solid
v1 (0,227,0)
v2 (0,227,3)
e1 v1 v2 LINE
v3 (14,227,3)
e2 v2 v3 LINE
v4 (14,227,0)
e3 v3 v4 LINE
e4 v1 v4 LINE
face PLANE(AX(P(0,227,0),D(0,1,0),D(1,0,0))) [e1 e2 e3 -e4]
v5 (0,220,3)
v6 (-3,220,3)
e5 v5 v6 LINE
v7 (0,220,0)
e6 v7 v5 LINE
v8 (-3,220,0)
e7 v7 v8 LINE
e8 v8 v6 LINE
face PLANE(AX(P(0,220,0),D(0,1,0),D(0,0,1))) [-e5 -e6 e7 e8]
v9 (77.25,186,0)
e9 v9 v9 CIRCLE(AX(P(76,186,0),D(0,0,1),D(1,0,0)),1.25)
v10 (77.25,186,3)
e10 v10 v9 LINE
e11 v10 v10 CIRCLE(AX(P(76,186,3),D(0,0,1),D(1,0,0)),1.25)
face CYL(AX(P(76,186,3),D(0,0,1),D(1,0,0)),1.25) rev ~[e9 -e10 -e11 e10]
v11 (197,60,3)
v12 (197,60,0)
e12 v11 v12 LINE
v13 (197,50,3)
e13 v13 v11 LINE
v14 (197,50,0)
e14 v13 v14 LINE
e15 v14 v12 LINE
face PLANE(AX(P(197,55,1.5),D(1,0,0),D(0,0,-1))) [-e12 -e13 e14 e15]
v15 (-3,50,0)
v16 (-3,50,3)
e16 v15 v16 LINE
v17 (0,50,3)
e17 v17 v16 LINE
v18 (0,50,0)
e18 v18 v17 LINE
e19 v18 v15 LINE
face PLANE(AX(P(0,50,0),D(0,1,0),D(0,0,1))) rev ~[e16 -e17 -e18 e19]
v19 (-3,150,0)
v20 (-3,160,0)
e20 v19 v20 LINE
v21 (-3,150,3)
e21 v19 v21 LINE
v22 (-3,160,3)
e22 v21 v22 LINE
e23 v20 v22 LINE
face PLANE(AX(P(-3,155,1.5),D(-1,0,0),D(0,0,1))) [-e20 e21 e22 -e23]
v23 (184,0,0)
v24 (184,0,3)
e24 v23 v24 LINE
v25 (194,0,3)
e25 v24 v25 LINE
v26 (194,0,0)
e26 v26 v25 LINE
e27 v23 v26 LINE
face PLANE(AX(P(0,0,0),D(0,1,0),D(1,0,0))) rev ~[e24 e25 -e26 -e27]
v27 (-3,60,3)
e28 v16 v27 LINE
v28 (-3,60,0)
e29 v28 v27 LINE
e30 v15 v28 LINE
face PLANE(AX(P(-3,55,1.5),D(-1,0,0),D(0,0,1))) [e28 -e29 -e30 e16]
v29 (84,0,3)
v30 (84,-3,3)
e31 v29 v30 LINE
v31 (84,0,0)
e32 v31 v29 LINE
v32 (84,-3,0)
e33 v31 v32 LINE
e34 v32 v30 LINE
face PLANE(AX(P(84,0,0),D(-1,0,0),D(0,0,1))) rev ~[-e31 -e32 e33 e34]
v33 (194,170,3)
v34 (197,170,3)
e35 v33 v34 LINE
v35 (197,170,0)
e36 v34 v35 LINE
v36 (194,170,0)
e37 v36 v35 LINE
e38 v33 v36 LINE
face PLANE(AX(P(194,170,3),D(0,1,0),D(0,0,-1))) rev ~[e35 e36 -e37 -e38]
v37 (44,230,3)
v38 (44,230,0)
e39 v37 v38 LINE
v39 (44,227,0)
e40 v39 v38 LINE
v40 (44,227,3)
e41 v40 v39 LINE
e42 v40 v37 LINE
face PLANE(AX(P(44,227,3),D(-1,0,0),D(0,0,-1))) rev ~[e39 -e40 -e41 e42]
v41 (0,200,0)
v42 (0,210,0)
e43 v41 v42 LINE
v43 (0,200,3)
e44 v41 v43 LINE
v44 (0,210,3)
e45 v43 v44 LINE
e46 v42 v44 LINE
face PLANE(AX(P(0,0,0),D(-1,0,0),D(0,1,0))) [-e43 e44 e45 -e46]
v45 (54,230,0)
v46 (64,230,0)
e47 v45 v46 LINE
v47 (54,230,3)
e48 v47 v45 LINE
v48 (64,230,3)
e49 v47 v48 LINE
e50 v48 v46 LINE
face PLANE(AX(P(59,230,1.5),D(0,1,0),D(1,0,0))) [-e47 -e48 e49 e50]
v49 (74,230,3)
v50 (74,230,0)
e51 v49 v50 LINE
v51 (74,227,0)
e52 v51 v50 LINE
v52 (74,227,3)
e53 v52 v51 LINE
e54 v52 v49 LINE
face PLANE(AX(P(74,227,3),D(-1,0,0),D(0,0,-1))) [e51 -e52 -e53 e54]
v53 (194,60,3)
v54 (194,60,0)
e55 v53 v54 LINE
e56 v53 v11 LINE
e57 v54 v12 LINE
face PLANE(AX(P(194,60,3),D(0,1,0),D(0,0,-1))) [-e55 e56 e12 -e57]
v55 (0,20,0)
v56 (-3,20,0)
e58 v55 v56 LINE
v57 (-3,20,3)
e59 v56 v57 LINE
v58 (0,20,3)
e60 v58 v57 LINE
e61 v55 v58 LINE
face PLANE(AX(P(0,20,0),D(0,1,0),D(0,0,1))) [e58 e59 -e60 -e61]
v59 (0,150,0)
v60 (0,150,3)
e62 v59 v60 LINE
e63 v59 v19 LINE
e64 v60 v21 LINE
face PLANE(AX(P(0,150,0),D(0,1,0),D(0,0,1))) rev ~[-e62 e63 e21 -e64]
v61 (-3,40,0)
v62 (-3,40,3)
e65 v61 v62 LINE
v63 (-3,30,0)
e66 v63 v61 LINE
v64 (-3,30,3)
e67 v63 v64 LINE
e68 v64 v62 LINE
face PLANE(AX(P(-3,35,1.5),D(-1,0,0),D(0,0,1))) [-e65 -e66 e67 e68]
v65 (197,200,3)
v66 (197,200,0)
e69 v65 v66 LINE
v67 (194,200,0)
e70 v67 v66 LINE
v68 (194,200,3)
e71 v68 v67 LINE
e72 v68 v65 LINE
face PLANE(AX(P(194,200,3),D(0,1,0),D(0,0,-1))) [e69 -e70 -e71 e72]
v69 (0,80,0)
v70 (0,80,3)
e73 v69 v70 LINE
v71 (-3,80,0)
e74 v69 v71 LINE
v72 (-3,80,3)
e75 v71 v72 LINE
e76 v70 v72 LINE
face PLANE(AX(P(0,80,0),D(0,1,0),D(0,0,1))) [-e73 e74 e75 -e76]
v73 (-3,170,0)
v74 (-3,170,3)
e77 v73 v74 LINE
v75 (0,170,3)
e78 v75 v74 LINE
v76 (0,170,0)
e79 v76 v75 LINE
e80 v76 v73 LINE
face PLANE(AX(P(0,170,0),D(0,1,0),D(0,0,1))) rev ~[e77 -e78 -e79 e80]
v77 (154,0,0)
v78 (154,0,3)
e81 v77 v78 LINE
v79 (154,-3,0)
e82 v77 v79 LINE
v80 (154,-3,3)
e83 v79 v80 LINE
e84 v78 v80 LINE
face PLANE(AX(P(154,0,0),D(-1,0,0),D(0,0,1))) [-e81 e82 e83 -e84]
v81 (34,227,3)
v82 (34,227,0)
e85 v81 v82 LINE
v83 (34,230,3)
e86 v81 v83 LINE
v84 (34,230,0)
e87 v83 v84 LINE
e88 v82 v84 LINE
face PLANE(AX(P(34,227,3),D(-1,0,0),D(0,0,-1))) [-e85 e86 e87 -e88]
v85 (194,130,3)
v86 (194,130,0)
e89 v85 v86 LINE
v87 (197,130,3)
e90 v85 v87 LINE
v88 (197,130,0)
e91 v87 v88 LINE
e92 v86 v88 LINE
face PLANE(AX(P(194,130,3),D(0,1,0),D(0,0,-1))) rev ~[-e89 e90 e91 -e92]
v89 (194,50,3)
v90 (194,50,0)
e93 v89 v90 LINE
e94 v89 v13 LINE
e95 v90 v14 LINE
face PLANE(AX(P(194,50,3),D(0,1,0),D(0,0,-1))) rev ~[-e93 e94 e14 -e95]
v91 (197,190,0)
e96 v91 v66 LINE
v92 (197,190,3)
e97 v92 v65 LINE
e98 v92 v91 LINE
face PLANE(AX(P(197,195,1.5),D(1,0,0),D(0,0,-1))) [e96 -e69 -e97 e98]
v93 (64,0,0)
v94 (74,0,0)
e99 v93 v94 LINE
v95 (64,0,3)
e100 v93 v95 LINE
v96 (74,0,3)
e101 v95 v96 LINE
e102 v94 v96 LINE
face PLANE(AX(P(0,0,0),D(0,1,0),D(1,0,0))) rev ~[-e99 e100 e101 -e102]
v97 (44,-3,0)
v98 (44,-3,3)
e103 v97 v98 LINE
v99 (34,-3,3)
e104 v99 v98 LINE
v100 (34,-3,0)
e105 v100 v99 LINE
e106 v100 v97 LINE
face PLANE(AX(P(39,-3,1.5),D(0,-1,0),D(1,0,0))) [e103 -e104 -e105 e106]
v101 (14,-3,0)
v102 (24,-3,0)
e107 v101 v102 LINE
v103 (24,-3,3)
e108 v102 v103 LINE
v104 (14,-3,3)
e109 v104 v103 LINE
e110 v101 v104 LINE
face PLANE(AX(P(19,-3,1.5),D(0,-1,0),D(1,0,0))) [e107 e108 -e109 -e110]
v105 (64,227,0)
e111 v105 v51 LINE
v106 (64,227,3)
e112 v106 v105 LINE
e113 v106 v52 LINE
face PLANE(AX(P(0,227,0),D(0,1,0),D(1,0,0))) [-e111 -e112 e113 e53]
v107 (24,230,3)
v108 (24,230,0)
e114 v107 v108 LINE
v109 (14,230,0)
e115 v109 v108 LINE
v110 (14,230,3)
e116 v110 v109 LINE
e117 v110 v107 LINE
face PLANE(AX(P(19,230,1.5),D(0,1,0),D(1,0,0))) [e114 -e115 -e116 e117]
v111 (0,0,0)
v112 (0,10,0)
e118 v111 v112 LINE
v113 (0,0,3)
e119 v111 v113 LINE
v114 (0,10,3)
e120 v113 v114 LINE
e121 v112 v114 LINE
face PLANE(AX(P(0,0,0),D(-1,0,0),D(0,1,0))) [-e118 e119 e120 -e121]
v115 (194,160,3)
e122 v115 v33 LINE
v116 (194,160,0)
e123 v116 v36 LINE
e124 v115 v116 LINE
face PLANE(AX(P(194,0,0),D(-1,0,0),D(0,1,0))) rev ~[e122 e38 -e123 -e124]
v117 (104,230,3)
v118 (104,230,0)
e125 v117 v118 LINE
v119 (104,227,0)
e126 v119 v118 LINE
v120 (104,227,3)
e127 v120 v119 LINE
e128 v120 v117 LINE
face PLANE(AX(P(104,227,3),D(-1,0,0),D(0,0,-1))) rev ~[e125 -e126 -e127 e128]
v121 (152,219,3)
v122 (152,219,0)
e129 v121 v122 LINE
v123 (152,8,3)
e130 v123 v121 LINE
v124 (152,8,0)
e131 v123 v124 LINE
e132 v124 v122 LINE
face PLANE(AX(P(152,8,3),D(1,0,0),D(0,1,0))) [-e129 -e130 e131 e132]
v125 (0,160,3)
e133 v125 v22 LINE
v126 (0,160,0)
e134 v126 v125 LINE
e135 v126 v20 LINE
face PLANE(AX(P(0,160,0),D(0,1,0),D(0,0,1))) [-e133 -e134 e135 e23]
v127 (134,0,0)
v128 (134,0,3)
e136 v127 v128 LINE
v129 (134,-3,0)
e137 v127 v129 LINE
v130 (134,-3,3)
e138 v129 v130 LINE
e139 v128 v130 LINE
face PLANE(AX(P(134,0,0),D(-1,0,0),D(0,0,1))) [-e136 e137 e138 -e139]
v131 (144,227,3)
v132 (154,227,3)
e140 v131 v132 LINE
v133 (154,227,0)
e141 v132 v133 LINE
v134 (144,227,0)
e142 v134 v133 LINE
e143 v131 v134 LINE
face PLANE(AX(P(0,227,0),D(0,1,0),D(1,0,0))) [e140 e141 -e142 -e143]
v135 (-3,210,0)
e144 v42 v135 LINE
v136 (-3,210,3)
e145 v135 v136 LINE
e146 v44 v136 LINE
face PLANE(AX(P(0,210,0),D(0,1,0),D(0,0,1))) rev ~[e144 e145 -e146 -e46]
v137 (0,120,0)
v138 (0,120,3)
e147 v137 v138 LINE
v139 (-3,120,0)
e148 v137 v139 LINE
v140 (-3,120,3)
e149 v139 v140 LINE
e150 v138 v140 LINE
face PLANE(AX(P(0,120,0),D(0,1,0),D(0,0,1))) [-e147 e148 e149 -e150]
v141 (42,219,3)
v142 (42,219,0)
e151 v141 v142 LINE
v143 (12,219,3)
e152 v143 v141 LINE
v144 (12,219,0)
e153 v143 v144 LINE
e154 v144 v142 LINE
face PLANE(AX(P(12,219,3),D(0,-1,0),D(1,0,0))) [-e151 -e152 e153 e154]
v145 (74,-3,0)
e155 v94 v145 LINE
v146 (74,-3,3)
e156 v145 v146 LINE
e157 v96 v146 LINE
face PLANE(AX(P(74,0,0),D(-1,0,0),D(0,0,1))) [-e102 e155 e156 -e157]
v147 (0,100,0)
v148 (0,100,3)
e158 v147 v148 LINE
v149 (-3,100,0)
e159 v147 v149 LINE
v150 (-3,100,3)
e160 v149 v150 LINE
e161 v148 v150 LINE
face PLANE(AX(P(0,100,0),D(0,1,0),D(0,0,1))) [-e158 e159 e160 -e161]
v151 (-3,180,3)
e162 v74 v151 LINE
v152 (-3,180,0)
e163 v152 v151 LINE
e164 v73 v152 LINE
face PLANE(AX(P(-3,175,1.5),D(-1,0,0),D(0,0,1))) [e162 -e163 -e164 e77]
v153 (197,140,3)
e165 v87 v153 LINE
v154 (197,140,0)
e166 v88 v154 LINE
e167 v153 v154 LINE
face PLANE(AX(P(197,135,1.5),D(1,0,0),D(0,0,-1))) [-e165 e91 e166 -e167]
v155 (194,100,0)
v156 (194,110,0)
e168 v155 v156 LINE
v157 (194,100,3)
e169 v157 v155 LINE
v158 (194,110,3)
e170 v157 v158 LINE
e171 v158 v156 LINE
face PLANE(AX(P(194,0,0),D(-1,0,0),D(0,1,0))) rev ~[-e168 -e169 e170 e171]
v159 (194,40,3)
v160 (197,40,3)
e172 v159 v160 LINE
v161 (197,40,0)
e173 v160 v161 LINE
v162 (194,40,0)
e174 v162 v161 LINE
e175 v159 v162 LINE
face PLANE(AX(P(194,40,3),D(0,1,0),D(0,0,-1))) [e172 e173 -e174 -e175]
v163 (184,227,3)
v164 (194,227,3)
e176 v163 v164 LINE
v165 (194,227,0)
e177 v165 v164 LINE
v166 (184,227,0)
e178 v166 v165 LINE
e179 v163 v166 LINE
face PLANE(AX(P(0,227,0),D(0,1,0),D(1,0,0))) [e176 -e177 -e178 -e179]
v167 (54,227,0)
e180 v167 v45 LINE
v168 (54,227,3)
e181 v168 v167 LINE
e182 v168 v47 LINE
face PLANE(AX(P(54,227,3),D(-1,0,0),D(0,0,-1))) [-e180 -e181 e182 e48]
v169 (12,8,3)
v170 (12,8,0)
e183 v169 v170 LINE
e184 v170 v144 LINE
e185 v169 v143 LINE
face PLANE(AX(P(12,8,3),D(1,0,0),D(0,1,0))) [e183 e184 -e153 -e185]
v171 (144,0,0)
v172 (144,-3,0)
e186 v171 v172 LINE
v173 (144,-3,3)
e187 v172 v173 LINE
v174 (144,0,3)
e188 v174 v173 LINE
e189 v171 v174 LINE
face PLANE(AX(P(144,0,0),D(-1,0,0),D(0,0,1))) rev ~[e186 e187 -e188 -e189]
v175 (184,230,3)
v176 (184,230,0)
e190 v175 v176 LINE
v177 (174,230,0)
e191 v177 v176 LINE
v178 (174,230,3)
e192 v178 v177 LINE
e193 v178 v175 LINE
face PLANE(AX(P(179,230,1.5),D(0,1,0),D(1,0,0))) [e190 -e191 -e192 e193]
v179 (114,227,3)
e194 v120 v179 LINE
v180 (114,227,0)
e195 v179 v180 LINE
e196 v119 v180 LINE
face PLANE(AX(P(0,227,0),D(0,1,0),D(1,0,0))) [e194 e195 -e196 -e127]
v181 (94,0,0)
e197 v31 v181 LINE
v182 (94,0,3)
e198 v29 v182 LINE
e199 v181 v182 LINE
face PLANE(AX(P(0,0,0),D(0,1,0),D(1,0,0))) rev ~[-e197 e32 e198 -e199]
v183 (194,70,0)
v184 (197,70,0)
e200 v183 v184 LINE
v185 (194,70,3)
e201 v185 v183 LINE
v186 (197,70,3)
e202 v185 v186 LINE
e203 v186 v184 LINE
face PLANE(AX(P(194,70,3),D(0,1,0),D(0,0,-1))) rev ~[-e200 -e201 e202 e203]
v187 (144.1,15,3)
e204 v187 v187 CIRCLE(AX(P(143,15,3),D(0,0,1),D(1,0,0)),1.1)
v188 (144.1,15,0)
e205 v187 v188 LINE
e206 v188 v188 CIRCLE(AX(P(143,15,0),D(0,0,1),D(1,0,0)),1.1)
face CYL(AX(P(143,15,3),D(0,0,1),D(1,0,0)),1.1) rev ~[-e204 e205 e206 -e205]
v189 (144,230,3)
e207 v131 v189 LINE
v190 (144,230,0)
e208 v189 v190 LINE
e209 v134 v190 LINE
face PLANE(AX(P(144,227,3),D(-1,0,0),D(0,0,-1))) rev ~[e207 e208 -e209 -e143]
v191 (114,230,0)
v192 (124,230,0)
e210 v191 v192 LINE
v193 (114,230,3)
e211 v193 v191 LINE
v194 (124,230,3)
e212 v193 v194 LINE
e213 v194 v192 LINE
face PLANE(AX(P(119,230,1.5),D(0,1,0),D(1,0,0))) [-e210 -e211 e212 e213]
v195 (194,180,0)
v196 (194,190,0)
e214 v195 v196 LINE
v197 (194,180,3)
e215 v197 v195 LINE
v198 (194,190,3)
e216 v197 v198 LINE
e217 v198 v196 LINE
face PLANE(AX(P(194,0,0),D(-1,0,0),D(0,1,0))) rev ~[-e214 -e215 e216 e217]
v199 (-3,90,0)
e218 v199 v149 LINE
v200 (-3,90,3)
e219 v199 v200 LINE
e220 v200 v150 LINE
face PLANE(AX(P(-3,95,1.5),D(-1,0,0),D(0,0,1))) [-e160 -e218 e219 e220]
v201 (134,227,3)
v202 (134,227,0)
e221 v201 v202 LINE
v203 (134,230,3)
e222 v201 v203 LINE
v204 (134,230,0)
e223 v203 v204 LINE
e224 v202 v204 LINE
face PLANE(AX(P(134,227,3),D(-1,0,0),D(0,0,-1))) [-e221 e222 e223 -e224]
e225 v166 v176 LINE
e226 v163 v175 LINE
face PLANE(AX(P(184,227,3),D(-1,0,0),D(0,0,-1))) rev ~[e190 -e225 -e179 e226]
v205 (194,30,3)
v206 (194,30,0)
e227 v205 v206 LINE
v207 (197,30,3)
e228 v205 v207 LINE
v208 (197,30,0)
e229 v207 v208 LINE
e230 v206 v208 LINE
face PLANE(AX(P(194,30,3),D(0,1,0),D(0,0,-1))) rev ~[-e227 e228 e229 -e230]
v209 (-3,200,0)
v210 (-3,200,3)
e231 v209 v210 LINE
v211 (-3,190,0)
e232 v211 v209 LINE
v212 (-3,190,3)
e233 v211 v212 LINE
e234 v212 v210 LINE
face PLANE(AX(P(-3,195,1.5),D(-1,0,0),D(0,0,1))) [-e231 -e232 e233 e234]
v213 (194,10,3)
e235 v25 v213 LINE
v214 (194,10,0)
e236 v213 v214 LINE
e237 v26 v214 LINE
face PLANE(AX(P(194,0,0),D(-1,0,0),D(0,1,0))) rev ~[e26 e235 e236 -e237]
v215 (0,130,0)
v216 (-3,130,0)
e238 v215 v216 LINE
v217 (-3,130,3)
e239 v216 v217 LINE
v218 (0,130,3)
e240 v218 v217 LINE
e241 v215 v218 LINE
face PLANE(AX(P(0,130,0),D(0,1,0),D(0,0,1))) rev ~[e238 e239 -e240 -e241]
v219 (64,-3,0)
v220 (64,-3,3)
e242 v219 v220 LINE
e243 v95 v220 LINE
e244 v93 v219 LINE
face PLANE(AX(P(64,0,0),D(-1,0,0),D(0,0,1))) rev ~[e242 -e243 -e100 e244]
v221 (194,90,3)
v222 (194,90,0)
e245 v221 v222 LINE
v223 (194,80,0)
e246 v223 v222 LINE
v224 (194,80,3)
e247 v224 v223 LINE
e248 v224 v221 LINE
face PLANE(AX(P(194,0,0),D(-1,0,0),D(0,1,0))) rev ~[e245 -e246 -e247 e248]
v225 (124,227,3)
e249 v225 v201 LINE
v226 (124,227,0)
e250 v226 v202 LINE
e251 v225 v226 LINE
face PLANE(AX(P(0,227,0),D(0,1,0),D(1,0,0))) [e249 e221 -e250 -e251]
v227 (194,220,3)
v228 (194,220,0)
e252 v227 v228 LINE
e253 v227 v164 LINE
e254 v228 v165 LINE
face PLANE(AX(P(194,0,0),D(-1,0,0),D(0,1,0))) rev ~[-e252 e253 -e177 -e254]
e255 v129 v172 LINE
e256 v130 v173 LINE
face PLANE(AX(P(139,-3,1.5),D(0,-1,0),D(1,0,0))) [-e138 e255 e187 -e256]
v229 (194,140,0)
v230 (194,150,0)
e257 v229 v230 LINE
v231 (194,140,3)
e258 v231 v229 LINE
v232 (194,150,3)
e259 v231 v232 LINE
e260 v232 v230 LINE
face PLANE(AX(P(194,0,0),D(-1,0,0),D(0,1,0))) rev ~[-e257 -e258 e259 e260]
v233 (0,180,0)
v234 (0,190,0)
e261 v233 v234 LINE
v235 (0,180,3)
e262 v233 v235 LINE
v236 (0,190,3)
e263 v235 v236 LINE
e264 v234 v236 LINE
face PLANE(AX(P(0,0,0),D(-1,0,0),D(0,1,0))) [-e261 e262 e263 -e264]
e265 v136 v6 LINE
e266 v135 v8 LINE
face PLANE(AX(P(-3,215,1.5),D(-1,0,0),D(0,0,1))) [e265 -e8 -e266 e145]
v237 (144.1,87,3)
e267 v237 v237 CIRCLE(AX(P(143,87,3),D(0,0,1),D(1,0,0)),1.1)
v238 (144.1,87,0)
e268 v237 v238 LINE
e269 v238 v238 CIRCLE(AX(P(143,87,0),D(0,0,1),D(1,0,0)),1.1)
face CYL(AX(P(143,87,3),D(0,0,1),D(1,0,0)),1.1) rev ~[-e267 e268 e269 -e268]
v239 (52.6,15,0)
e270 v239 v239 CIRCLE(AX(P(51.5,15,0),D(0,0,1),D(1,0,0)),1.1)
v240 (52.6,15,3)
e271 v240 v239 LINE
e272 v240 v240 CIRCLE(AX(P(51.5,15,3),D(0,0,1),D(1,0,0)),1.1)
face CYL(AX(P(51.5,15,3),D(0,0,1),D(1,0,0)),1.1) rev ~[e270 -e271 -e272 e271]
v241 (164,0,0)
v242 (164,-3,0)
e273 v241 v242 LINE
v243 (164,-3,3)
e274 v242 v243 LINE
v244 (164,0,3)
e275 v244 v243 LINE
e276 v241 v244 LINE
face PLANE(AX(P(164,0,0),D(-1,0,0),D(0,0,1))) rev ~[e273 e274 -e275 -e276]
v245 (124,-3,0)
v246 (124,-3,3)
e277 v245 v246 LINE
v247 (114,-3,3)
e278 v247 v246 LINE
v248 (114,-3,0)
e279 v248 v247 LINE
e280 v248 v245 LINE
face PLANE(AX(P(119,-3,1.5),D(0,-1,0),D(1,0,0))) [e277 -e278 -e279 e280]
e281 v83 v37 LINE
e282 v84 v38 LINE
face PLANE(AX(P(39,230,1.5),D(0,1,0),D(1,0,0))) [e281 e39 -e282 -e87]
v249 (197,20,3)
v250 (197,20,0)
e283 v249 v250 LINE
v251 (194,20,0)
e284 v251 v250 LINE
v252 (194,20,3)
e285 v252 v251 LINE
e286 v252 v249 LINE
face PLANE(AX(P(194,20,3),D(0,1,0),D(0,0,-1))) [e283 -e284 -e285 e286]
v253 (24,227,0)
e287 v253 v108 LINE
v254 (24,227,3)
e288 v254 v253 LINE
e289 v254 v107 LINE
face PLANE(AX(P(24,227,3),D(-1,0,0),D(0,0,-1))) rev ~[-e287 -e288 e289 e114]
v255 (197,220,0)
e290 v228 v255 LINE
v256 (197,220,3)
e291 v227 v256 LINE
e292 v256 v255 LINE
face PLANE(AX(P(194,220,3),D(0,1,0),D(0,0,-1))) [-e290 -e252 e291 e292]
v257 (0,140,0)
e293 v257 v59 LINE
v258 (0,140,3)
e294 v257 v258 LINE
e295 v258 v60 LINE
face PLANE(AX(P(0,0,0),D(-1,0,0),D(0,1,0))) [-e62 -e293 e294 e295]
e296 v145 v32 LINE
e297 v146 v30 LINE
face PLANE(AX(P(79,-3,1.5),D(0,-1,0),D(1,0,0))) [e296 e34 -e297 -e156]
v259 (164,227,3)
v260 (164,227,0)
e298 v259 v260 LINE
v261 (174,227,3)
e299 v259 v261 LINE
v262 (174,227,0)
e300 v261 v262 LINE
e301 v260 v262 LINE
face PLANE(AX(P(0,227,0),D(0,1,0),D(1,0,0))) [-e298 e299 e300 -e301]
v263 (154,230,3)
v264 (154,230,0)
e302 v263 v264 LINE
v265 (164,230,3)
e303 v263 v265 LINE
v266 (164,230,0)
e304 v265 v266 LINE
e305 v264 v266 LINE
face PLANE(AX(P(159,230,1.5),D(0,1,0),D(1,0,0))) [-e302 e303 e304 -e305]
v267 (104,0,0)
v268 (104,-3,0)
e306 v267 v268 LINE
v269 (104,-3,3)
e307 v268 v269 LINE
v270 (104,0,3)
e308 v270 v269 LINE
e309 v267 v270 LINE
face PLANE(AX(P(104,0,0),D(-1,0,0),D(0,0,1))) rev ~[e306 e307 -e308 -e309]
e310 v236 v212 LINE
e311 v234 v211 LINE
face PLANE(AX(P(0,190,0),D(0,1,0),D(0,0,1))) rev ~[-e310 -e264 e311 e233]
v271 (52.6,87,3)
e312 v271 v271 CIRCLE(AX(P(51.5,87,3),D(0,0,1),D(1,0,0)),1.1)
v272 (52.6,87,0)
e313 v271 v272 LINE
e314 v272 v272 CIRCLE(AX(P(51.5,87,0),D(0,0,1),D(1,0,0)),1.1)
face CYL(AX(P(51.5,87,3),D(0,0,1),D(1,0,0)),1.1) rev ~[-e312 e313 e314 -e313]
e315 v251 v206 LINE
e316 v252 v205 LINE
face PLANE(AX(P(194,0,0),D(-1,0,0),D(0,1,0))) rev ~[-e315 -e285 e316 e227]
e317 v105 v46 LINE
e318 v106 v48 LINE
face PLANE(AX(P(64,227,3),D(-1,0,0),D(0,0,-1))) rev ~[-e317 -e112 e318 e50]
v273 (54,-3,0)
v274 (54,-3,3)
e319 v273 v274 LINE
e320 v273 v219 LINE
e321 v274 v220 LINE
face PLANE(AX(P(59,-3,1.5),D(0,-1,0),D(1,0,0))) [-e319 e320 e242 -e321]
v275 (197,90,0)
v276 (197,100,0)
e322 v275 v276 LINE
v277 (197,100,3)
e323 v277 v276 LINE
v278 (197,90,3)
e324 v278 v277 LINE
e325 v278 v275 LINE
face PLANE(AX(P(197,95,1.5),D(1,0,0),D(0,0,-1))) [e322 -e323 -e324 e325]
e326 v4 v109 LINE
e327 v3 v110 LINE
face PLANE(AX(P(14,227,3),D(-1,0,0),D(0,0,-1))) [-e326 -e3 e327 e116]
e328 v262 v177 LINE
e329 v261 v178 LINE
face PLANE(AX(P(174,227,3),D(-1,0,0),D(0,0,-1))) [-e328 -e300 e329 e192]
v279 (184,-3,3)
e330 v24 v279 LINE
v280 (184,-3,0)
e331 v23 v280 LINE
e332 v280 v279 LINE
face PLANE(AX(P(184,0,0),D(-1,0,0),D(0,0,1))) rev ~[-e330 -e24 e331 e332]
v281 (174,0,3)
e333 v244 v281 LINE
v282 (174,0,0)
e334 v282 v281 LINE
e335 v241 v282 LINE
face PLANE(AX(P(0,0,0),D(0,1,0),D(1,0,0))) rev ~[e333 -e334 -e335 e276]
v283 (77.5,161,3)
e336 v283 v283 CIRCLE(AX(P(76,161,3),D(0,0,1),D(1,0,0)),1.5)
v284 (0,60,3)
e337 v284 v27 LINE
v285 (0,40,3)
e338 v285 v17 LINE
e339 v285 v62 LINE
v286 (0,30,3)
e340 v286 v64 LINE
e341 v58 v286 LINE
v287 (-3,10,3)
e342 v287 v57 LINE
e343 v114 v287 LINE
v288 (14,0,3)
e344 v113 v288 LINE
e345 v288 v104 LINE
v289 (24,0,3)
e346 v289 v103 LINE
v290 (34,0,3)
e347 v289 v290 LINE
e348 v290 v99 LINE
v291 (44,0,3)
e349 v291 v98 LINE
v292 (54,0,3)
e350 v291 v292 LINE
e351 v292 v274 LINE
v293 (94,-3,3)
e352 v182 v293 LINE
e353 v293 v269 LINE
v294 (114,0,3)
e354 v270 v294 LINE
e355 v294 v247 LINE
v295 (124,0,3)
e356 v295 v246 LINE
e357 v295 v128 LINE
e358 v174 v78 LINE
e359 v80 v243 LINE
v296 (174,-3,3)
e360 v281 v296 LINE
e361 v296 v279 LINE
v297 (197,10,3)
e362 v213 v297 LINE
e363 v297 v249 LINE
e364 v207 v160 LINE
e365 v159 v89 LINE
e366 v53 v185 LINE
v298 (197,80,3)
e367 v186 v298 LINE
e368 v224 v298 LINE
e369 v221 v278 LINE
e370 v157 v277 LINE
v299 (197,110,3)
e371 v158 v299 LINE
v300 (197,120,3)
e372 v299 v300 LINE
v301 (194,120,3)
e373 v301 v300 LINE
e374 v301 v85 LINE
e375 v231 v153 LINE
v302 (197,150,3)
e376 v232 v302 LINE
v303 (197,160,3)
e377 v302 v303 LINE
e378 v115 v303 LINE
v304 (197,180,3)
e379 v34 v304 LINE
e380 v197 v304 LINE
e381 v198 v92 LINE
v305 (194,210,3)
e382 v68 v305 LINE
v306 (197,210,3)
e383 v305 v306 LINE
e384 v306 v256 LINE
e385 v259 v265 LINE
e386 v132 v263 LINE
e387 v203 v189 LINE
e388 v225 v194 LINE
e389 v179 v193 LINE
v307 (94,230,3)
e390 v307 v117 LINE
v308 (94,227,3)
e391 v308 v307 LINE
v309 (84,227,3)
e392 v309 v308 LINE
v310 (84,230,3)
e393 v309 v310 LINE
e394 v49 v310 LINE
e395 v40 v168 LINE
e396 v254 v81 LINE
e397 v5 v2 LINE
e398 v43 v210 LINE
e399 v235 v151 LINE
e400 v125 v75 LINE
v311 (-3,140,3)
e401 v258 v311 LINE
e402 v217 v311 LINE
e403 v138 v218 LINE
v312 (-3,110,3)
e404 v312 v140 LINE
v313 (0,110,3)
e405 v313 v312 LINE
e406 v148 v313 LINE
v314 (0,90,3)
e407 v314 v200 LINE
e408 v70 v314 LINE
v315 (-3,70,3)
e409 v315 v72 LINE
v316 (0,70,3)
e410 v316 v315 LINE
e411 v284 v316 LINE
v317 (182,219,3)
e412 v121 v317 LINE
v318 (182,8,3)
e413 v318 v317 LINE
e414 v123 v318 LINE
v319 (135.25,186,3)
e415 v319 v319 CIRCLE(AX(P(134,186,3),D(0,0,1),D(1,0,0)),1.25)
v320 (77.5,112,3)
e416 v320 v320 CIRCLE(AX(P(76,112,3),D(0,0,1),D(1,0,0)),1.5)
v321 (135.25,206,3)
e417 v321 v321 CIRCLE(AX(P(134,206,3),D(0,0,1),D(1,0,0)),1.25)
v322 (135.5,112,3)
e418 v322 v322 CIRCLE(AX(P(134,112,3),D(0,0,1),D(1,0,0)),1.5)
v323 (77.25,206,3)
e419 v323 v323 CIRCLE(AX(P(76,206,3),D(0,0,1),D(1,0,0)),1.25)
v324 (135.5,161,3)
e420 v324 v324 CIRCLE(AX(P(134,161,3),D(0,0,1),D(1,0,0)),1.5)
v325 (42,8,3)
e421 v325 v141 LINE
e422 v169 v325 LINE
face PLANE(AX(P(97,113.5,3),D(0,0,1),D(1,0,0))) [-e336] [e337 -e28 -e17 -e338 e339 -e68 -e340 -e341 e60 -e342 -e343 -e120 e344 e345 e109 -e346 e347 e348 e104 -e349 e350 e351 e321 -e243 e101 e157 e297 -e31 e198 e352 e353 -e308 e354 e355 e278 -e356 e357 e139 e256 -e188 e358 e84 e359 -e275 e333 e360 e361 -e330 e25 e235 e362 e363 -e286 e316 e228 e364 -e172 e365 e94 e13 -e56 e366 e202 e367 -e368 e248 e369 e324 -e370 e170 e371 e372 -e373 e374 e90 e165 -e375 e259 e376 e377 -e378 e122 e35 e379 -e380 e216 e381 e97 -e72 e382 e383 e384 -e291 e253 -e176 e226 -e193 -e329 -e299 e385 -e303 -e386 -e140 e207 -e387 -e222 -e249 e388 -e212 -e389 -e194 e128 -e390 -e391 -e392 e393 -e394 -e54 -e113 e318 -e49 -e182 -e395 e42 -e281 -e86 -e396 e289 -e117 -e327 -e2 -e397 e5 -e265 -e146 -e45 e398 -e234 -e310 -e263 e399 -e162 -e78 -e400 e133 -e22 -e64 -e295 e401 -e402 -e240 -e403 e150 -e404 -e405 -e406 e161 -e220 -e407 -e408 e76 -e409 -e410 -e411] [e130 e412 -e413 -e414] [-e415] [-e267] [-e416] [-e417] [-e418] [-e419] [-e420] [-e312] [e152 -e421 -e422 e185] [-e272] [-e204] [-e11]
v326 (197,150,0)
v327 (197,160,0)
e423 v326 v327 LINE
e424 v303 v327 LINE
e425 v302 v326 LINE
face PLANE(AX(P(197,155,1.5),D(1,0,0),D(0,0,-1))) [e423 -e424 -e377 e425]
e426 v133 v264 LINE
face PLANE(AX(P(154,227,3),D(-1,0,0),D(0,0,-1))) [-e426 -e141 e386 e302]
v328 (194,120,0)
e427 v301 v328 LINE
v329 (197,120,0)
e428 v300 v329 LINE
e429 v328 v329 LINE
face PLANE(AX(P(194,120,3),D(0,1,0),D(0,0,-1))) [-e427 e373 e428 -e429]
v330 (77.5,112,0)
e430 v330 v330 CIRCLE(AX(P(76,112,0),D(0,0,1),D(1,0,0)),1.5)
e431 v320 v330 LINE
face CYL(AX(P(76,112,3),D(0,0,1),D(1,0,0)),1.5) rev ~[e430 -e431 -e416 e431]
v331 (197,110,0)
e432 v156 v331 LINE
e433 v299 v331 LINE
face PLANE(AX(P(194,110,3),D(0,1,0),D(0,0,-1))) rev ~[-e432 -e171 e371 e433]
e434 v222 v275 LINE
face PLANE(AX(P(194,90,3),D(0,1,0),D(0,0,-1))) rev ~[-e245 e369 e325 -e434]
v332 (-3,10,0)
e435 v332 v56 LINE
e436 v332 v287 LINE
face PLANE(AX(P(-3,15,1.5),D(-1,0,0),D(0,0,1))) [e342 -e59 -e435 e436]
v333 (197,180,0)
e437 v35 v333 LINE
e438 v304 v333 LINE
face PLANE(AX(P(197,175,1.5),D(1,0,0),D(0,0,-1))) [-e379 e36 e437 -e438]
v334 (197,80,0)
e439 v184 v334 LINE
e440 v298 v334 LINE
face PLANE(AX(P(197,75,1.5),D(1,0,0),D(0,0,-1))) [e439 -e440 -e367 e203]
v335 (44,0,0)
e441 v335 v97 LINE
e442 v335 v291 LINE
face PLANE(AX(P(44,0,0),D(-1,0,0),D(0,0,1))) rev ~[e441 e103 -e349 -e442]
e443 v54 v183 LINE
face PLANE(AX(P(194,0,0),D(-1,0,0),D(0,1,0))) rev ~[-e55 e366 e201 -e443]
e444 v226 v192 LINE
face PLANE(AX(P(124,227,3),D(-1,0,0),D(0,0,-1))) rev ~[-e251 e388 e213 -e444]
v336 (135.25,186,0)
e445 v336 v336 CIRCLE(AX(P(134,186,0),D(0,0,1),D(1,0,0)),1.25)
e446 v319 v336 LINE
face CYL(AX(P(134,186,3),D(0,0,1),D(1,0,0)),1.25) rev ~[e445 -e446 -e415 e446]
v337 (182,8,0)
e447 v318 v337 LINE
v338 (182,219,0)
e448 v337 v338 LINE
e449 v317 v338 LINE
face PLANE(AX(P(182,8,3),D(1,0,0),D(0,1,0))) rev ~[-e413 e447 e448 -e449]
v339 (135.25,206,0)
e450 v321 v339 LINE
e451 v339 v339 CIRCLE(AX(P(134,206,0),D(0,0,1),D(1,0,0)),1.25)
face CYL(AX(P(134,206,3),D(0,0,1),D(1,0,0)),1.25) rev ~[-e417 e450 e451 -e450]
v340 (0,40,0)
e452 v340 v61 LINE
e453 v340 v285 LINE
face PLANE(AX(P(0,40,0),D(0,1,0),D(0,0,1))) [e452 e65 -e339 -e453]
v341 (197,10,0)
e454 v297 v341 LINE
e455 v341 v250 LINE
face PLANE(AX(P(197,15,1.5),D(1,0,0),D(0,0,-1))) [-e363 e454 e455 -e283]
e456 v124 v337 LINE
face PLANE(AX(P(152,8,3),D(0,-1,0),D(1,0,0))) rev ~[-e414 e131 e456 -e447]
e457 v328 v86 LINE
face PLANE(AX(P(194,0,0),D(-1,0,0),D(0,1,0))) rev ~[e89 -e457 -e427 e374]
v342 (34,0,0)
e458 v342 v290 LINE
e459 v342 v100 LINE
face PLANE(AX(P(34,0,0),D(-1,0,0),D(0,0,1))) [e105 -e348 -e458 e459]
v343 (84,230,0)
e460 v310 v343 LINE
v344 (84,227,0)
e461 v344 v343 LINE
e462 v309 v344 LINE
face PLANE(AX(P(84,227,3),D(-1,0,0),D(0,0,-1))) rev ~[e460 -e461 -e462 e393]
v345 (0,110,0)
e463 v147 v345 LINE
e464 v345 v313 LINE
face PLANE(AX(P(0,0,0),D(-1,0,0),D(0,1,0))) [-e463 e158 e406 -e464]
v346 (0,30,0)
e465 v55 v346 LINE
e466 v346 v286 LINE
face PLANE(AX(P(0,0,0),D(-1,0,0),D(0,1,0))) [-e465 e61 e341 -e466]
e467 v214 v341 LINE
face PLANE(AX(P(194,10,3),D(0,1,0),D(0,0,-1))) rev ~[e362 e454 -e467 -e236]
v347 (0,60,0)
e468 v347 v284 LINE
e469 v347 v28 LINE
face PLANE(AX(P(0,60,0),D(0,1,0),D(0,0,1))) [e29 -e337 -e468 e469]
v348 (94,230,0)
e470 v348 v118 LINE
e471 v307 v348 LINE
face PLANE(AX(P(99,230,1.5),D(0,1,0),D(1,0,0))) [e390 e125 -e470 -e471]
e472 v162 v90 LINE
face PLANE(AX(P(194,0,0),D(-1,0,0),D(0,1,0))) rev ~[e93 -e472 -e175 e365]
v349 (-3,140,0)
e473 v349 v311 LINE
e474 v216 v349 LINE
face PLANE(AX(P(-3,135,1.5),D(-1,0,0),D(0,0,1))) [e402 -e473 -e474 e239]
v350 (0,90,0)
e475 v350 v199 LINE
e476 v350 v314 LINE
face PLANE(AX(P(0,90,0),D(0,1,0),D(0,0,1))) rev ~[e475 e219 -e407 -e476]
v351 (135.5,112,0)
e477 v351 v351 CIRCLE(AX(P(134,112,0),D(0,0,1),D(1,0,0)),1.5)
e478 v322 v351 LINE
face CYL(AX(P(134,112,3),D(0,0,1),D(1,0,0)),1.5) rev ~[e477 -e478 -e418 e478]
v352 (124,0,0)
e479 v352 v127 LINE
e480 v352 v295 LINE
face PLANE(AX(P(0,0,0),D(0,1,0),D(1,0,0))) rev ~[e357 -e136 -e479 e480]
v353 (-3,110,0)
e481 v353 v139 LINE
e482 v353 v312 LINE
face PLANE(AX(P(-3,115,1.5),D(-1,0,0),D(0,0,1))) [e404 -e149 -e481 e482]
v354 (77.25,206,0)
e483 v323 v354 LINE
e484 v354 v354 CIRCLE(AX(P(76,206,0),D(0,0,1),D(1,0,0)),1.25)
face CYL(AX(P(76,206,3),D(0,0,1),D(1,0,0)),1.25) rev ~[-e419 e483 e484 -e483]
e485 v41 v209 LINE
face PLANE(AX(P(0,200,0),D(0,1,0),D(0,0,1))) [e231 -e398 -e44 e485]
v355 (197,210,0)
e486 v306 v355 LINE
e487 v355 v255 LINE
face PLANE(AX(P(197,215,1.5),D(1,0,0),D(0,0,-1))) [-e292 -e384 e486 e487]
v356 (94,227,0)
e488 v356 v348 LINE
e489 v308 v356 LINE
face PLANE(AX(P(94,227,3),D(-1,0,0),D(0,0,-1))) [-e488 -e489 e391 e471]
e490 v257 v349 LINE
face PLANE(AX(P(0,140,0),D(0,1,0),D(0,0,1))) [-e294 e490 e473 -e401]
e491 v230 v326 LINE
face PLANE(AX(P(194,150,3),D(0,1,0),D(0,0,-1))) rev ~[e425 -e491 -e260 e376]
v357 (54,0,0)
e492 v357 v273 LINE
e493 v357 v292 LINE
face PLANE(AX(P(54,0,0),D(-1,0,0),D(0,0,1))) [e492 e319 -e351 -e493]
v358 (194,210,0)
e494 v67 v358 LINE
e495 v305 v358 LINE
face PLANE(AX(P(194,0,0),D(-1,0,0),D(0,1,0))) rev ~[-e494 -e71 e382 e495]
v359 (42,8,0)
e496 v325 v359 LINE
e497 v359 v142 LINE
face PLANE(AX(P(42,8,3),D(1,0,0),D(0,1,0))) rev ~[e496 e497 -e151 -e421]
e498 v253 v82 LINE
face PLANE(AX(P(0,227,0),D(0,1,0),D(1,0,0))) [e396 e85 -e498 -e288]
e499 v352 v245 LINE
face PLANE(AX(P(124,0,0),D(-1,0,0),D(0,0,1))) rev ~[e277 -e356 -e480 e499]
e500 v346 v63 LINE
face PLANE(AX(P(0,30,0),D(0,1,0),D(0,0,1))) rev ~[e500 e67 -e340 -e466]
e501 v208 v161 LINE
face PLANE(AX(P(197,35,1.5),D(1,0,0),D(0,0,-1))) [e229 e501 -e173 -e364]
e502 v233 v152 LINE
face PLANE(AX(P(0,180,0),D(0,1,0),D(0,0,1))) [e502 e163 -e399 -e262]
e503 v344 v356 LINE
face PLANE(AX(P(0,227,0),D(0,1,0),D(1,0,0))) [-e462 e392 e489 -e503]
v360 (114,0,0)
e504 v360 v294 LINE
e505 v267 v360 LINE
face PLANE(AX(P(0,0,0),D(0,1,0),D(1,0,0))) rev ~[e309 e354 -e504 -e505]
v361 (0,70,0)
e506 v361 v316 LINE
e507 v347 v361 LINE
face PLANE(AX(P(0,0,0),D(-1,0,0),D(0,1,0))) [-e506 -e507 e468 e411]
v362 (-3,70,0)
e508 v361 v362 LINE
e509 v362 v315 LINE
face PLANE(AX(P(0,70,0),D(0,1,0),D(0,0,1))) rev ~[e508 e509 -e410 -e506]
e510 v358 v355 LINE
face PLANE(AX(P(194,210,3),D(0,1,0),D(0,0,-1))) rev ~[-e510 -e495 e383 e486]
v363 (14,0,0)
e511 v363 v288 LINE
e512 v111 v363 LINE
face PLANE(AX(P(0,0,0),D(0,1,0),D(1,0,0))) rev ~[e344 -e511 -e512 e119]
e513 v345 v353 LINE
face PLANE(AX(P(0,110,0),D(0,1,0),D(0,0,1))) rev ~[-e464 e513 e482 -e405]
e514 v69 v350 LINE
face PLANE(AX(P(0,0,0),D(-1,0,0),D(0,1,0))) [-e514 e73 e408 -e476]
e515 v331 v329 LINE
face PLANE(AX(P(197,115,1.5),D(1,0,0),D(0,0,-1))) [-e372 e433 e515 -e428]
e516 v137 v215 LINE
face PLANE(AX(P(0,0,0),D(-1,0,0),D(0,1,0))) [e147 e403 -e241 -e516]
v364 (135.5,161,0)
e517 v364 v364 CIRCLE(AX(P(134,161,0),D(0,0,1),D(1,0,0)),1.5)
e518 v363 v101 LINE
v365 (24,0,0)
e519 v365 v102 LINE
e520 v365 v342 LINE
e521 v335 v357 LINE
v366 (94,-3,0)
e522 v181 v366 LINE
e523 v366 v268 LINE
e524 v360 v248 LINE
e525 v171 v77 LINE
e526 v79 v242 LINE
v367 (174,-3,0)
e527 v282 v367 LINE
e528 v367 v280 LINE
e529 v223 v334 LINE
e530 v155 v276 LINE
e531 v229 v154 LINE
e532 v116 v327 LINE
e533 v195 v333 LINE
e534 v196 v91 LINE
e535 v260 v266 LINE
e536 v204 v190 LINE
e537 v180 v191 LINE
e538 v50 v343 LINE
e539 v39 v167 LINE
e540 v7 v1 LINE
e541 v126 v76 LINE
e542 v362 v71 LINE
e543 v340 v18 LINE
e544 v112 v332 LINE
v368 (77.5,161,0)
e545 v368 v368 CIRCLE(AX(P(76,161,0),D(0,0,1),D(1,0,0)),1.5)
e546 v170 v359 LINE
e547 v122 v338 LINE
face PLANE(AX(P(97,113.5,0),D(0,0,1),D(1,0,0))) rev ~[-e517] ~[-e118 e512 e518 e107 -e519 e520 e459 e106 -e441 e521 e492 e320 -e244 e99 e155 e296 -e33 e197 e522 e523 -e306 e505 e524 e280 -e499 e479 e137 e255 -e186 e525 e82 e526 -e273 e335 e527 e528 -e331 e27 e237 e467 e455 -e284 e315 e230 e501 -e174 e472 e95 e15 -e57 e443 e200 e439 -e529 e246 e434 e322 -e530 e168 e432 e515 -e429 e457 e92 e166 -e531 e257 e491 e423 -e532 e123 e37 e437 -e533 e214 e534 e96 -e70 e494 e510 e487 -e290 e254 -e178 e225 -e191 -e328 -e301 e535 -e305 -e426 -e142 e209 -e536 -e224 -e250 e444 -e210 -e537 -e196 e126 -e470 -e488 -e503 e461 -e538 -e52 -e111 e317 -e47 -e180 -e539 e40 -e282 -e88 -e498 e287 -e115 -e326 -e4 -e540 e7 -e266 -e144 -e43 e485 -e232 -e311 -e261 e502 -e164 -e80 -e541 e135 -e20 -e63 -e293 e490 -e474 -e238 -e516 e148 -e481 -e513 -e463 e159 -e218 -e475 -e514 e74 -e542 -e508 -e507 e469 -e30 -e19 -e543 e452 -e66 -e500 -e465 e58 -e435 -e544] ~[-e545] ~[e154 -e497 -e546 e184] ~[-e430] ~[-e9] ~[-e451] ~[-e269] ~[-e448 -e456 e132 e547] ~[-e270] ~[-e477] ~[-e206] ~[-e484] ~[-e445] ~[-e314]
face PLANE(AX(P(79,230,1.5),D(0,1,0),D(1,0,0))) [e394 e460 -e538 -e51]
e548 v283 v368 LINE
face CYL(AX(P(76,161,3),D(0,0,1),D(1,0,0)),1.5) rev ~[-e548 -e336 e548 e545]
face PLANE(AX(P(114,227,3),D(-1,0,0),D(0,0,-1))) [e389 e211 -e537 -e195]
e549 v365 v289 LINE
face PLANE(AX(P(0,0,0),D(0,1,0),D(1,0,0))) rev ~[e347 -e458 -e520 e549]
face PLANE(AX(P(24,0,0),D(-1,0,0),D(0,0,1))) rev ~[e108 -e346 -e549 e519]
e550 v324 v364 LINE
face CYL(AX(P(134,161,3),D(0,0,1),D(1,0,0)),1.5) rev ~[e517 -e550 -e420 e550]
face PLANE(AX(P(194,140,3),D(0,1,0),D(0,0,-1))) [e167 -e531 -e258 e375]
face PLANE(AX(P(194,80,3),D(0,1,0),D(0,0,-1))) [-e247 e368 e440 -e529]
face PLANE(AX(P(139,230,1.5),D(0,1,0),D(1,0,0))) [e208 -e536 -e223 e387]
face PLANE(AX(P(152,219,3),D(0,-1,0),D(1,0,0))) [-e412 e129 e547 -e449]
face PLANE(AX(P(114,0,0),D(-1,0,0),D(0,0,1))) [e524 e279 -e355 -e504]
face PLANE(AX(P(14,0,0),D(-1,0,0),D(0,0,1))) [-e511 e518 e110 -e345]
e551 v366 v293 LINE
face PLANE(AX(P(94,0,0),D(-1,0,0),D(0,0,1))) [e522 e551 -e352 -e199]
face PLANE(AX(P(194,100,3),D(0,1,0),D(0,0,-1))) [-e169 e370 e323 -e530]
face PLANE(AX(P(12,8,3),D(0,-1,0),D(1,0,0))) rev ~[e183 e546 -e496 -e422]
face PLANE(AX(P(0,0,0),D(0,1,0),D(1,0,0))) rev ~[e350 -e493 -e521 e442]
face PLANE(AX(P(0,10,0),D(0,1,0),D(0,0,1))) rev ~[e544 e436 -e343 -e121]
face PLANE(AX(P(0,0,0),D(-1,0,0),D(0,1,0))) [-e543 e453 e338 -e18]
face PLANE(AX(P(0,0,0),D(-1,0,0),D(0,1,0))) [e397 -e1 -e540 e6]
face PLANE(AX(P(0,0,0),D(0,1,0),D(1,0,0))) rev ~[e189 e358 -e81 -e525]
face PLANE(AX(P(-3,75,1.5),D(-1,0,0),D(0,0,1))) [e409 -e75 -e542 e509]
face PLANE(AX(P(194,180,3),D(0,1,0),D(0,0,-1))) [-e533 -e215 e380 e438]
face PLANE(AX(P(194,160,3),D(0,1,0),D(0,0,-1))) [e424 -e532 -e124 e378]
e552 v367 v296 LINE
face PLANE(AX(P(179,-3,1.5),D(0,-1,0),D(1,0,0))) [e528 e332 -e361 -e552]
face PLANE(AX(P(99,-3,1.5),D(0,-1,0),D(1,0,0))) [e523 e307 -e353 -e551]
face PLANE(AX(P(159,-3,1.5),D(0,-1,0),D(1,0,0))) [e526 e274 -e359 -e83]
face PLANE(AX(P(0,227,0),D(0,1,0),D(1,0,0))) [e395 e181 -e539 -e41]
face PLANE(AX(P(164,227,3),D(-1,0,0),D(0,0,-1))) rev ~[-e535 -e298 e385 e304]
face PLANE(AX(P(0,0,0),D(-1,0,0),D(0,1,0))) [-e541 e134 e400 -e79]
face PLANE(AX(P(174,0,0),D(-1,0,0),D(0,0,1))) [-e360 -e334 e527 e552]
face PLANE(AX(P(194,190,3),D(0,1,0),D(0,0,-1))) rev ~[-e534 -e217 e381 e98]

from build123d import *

# Parameters (mm, degrees)
SKETCH1_W           = 194
SKETCH1_H           = 227
BOSS_EXTRUDE1_DEPTH = 3
SKETCH2_W           = 3
SKETCH2_H           = 10
BOSS_EXTRUDE2_DEPTH = 3
LPATTERN1_COUNT     = 11
LPATTERN1_PITCH     = 20
SKETCH4_W           = 3
SKETCH4_H           = 10
BOSS_EXTRUDE3_DEPTH = 3
LPATTERN2_COUNT     = 11
LPATTERN2_PITCH     = 20
SKETCH5_W           = 10
SKETCH5_H           = 3
BOSS_EXTRUDE4_DEPTH = 3
LPATTERN3_COUNT     = 9
LPATTERN3_PITCH     = 20
SKETCH6_W           = 10
SKETCH6_H           = 3
BOSS_EXTRUDE5_DEPTH = 3
LPATTERN4_COUNT     = 9
LPATTERN4_PITCH     = 20
SKETCH7_W           = 30
SKETCH7_H           = 211
CUT_EXTRUDE1_DEPTH  = 4
SKETCH8_R           = 1.1
SKETCH8_R_2         = 1.5
SKETCH8_R_3         = 1.25
SKETCH8_W           = 30
SKETCH8_H           = 211
CUT_EXTRUDE2_DEPTH  = 4


with BuildPart() as part:
    # Sketch1 → Boss-Extrude1 (new body)
    with BuildSketch(Plane.XY):
        with Locations((97, 113.5)):
            Rectangle(SKETCH1_W, SKETCH1_H)
    extrude(amount=BOSS_EXTRUDE1_DEPTH)

    # Sketch2 → Boss-Extrude2 (add)
    with BuildSketch(Plane(origin=(194, 0, 0), x_dir=(0, 0, -1), z_dir=(1, 0, 0))):
        with Locations((-1.5, 15)):
            Rectangle(SKETCH2_W, SKETCH2_H)
    boss_extrude2 = extrude(amount=BOSS_EXTRUDE2_DEPTH)

    # LPattern1: Boss-Extrude2 ×11
    with Locations(*[(0, i * LPATTERN1_PITCH, 0) for i in range(1, LPATTERN1_COUNT)]):
        add(boss_extrude2)

    # Sketch4 → Boss-Extrude3 (add)
    with BuildSketch(Plane.ZY):
        with Locations((1.5, 15)):
            Rectangle(SKETCH4_W, SKETCH4_H)
    boss_extrude3 = extrude(amount=BOSS_EXTRUDE3_DEPTH)

    # LPattern2: Boss-Extrude3 ×11
    with Locations(*[(0, i * LPATTERN2_PITCH, 0) for i in range(1, LPATTERN2_COUNT)]):
        add(boss_extrude3)

    # Sketch5 → Boss-Extrude4 (add)
    with BuildSketch(Plane.XZ):
        with Locations((179, 1.5)):
            Rectangle(SKETCH5_W, SKETCH5_H)
    boss_extrude4 = extrude(amount=BOSS_EXTRUDE4_DEPTH)

    # LPattern3: Boss-Extrude4 ×9
    with Locations(*[(-i * LPATTERN3_PITCH, 0, 0) for i in range(1, LPATTERN3_COUNT)]):
        add(boss_extrude4)

    # Sketch6 → Boss-Extrude5 (add)
    with BuildSketch(Plane(origin=(0, 227, 0), x_dir=(1, 0, 0), z_dir=(0, 1, 0))):
        with Locations((179, -1.5)):
            Rectangle(SKETCH6_W, SKETCH6_H)
    boss_extrude5 = extrude(amount=BOSS_EXTRUDE5_DEPTH)

    # LPattern4: Boss-Extrude5 ×9
    with Locations(*[(-i * LPATTERN4_PITCH, 0, 0) for i in range(1, LPATTERN4_COUNT)]):
        add(boss_extrude5)

    # Sketch7 → Cut-Extrude1 (cut, through all)
    with BuildSketch(Plane.XY.offset(3)):
        with Locations((27, 113.5)):
            Rectangle(SKETCH7_W, SKETCH7_H)
    extrude(amount=-CUT_EXTRUDE1_DEPTH, mode=Mode.SUBTRACT)

    # Sketch8 → Cut-Extrude2 (cut, through all)
    with BuildSketch(Plane.XY.offset(3)):
        with Locations((143, 15)):
            Circle(SKETCH8_R)
        with Locations((51.5, 15)):
            Circle(SKETCH8_R)
        with Locations((143, 87)):
            Circle(SKETCH8_R)
        with Locations((51.5, 87)):
            Circle(SKETCH8_R)
        with Locations((134, 112)):
            Circle(SKETCH8_R_2)
        with Locations((76, 112)):
            Circle(SKETCH8_R_2)
        with Locations((134, 161)):
            Circle(SKETCH8_R_2)
        with Locations((76, 161)):
            Circle(SKETCH8_R_2)
        with Locations((76, 186)):
            Circle(SKETCH8_R_3)
        with Locations((76, 206)):
            Circle(SKETCH8_R_3)
        with Locations((134, 186)):
            Circle(SKETCH8_R_3)
        with Locations((134, 206)):
            Circle(SKETCH8_R_3)
        with Locations((167, 113.5)):
            Rectangle(SKETCH8_W, SKETCH8_H)
    extrude(amount=-CUT_EXTRUDE2_DEPTH, mode=Mode.SUBTRACT)


solid = part.part
